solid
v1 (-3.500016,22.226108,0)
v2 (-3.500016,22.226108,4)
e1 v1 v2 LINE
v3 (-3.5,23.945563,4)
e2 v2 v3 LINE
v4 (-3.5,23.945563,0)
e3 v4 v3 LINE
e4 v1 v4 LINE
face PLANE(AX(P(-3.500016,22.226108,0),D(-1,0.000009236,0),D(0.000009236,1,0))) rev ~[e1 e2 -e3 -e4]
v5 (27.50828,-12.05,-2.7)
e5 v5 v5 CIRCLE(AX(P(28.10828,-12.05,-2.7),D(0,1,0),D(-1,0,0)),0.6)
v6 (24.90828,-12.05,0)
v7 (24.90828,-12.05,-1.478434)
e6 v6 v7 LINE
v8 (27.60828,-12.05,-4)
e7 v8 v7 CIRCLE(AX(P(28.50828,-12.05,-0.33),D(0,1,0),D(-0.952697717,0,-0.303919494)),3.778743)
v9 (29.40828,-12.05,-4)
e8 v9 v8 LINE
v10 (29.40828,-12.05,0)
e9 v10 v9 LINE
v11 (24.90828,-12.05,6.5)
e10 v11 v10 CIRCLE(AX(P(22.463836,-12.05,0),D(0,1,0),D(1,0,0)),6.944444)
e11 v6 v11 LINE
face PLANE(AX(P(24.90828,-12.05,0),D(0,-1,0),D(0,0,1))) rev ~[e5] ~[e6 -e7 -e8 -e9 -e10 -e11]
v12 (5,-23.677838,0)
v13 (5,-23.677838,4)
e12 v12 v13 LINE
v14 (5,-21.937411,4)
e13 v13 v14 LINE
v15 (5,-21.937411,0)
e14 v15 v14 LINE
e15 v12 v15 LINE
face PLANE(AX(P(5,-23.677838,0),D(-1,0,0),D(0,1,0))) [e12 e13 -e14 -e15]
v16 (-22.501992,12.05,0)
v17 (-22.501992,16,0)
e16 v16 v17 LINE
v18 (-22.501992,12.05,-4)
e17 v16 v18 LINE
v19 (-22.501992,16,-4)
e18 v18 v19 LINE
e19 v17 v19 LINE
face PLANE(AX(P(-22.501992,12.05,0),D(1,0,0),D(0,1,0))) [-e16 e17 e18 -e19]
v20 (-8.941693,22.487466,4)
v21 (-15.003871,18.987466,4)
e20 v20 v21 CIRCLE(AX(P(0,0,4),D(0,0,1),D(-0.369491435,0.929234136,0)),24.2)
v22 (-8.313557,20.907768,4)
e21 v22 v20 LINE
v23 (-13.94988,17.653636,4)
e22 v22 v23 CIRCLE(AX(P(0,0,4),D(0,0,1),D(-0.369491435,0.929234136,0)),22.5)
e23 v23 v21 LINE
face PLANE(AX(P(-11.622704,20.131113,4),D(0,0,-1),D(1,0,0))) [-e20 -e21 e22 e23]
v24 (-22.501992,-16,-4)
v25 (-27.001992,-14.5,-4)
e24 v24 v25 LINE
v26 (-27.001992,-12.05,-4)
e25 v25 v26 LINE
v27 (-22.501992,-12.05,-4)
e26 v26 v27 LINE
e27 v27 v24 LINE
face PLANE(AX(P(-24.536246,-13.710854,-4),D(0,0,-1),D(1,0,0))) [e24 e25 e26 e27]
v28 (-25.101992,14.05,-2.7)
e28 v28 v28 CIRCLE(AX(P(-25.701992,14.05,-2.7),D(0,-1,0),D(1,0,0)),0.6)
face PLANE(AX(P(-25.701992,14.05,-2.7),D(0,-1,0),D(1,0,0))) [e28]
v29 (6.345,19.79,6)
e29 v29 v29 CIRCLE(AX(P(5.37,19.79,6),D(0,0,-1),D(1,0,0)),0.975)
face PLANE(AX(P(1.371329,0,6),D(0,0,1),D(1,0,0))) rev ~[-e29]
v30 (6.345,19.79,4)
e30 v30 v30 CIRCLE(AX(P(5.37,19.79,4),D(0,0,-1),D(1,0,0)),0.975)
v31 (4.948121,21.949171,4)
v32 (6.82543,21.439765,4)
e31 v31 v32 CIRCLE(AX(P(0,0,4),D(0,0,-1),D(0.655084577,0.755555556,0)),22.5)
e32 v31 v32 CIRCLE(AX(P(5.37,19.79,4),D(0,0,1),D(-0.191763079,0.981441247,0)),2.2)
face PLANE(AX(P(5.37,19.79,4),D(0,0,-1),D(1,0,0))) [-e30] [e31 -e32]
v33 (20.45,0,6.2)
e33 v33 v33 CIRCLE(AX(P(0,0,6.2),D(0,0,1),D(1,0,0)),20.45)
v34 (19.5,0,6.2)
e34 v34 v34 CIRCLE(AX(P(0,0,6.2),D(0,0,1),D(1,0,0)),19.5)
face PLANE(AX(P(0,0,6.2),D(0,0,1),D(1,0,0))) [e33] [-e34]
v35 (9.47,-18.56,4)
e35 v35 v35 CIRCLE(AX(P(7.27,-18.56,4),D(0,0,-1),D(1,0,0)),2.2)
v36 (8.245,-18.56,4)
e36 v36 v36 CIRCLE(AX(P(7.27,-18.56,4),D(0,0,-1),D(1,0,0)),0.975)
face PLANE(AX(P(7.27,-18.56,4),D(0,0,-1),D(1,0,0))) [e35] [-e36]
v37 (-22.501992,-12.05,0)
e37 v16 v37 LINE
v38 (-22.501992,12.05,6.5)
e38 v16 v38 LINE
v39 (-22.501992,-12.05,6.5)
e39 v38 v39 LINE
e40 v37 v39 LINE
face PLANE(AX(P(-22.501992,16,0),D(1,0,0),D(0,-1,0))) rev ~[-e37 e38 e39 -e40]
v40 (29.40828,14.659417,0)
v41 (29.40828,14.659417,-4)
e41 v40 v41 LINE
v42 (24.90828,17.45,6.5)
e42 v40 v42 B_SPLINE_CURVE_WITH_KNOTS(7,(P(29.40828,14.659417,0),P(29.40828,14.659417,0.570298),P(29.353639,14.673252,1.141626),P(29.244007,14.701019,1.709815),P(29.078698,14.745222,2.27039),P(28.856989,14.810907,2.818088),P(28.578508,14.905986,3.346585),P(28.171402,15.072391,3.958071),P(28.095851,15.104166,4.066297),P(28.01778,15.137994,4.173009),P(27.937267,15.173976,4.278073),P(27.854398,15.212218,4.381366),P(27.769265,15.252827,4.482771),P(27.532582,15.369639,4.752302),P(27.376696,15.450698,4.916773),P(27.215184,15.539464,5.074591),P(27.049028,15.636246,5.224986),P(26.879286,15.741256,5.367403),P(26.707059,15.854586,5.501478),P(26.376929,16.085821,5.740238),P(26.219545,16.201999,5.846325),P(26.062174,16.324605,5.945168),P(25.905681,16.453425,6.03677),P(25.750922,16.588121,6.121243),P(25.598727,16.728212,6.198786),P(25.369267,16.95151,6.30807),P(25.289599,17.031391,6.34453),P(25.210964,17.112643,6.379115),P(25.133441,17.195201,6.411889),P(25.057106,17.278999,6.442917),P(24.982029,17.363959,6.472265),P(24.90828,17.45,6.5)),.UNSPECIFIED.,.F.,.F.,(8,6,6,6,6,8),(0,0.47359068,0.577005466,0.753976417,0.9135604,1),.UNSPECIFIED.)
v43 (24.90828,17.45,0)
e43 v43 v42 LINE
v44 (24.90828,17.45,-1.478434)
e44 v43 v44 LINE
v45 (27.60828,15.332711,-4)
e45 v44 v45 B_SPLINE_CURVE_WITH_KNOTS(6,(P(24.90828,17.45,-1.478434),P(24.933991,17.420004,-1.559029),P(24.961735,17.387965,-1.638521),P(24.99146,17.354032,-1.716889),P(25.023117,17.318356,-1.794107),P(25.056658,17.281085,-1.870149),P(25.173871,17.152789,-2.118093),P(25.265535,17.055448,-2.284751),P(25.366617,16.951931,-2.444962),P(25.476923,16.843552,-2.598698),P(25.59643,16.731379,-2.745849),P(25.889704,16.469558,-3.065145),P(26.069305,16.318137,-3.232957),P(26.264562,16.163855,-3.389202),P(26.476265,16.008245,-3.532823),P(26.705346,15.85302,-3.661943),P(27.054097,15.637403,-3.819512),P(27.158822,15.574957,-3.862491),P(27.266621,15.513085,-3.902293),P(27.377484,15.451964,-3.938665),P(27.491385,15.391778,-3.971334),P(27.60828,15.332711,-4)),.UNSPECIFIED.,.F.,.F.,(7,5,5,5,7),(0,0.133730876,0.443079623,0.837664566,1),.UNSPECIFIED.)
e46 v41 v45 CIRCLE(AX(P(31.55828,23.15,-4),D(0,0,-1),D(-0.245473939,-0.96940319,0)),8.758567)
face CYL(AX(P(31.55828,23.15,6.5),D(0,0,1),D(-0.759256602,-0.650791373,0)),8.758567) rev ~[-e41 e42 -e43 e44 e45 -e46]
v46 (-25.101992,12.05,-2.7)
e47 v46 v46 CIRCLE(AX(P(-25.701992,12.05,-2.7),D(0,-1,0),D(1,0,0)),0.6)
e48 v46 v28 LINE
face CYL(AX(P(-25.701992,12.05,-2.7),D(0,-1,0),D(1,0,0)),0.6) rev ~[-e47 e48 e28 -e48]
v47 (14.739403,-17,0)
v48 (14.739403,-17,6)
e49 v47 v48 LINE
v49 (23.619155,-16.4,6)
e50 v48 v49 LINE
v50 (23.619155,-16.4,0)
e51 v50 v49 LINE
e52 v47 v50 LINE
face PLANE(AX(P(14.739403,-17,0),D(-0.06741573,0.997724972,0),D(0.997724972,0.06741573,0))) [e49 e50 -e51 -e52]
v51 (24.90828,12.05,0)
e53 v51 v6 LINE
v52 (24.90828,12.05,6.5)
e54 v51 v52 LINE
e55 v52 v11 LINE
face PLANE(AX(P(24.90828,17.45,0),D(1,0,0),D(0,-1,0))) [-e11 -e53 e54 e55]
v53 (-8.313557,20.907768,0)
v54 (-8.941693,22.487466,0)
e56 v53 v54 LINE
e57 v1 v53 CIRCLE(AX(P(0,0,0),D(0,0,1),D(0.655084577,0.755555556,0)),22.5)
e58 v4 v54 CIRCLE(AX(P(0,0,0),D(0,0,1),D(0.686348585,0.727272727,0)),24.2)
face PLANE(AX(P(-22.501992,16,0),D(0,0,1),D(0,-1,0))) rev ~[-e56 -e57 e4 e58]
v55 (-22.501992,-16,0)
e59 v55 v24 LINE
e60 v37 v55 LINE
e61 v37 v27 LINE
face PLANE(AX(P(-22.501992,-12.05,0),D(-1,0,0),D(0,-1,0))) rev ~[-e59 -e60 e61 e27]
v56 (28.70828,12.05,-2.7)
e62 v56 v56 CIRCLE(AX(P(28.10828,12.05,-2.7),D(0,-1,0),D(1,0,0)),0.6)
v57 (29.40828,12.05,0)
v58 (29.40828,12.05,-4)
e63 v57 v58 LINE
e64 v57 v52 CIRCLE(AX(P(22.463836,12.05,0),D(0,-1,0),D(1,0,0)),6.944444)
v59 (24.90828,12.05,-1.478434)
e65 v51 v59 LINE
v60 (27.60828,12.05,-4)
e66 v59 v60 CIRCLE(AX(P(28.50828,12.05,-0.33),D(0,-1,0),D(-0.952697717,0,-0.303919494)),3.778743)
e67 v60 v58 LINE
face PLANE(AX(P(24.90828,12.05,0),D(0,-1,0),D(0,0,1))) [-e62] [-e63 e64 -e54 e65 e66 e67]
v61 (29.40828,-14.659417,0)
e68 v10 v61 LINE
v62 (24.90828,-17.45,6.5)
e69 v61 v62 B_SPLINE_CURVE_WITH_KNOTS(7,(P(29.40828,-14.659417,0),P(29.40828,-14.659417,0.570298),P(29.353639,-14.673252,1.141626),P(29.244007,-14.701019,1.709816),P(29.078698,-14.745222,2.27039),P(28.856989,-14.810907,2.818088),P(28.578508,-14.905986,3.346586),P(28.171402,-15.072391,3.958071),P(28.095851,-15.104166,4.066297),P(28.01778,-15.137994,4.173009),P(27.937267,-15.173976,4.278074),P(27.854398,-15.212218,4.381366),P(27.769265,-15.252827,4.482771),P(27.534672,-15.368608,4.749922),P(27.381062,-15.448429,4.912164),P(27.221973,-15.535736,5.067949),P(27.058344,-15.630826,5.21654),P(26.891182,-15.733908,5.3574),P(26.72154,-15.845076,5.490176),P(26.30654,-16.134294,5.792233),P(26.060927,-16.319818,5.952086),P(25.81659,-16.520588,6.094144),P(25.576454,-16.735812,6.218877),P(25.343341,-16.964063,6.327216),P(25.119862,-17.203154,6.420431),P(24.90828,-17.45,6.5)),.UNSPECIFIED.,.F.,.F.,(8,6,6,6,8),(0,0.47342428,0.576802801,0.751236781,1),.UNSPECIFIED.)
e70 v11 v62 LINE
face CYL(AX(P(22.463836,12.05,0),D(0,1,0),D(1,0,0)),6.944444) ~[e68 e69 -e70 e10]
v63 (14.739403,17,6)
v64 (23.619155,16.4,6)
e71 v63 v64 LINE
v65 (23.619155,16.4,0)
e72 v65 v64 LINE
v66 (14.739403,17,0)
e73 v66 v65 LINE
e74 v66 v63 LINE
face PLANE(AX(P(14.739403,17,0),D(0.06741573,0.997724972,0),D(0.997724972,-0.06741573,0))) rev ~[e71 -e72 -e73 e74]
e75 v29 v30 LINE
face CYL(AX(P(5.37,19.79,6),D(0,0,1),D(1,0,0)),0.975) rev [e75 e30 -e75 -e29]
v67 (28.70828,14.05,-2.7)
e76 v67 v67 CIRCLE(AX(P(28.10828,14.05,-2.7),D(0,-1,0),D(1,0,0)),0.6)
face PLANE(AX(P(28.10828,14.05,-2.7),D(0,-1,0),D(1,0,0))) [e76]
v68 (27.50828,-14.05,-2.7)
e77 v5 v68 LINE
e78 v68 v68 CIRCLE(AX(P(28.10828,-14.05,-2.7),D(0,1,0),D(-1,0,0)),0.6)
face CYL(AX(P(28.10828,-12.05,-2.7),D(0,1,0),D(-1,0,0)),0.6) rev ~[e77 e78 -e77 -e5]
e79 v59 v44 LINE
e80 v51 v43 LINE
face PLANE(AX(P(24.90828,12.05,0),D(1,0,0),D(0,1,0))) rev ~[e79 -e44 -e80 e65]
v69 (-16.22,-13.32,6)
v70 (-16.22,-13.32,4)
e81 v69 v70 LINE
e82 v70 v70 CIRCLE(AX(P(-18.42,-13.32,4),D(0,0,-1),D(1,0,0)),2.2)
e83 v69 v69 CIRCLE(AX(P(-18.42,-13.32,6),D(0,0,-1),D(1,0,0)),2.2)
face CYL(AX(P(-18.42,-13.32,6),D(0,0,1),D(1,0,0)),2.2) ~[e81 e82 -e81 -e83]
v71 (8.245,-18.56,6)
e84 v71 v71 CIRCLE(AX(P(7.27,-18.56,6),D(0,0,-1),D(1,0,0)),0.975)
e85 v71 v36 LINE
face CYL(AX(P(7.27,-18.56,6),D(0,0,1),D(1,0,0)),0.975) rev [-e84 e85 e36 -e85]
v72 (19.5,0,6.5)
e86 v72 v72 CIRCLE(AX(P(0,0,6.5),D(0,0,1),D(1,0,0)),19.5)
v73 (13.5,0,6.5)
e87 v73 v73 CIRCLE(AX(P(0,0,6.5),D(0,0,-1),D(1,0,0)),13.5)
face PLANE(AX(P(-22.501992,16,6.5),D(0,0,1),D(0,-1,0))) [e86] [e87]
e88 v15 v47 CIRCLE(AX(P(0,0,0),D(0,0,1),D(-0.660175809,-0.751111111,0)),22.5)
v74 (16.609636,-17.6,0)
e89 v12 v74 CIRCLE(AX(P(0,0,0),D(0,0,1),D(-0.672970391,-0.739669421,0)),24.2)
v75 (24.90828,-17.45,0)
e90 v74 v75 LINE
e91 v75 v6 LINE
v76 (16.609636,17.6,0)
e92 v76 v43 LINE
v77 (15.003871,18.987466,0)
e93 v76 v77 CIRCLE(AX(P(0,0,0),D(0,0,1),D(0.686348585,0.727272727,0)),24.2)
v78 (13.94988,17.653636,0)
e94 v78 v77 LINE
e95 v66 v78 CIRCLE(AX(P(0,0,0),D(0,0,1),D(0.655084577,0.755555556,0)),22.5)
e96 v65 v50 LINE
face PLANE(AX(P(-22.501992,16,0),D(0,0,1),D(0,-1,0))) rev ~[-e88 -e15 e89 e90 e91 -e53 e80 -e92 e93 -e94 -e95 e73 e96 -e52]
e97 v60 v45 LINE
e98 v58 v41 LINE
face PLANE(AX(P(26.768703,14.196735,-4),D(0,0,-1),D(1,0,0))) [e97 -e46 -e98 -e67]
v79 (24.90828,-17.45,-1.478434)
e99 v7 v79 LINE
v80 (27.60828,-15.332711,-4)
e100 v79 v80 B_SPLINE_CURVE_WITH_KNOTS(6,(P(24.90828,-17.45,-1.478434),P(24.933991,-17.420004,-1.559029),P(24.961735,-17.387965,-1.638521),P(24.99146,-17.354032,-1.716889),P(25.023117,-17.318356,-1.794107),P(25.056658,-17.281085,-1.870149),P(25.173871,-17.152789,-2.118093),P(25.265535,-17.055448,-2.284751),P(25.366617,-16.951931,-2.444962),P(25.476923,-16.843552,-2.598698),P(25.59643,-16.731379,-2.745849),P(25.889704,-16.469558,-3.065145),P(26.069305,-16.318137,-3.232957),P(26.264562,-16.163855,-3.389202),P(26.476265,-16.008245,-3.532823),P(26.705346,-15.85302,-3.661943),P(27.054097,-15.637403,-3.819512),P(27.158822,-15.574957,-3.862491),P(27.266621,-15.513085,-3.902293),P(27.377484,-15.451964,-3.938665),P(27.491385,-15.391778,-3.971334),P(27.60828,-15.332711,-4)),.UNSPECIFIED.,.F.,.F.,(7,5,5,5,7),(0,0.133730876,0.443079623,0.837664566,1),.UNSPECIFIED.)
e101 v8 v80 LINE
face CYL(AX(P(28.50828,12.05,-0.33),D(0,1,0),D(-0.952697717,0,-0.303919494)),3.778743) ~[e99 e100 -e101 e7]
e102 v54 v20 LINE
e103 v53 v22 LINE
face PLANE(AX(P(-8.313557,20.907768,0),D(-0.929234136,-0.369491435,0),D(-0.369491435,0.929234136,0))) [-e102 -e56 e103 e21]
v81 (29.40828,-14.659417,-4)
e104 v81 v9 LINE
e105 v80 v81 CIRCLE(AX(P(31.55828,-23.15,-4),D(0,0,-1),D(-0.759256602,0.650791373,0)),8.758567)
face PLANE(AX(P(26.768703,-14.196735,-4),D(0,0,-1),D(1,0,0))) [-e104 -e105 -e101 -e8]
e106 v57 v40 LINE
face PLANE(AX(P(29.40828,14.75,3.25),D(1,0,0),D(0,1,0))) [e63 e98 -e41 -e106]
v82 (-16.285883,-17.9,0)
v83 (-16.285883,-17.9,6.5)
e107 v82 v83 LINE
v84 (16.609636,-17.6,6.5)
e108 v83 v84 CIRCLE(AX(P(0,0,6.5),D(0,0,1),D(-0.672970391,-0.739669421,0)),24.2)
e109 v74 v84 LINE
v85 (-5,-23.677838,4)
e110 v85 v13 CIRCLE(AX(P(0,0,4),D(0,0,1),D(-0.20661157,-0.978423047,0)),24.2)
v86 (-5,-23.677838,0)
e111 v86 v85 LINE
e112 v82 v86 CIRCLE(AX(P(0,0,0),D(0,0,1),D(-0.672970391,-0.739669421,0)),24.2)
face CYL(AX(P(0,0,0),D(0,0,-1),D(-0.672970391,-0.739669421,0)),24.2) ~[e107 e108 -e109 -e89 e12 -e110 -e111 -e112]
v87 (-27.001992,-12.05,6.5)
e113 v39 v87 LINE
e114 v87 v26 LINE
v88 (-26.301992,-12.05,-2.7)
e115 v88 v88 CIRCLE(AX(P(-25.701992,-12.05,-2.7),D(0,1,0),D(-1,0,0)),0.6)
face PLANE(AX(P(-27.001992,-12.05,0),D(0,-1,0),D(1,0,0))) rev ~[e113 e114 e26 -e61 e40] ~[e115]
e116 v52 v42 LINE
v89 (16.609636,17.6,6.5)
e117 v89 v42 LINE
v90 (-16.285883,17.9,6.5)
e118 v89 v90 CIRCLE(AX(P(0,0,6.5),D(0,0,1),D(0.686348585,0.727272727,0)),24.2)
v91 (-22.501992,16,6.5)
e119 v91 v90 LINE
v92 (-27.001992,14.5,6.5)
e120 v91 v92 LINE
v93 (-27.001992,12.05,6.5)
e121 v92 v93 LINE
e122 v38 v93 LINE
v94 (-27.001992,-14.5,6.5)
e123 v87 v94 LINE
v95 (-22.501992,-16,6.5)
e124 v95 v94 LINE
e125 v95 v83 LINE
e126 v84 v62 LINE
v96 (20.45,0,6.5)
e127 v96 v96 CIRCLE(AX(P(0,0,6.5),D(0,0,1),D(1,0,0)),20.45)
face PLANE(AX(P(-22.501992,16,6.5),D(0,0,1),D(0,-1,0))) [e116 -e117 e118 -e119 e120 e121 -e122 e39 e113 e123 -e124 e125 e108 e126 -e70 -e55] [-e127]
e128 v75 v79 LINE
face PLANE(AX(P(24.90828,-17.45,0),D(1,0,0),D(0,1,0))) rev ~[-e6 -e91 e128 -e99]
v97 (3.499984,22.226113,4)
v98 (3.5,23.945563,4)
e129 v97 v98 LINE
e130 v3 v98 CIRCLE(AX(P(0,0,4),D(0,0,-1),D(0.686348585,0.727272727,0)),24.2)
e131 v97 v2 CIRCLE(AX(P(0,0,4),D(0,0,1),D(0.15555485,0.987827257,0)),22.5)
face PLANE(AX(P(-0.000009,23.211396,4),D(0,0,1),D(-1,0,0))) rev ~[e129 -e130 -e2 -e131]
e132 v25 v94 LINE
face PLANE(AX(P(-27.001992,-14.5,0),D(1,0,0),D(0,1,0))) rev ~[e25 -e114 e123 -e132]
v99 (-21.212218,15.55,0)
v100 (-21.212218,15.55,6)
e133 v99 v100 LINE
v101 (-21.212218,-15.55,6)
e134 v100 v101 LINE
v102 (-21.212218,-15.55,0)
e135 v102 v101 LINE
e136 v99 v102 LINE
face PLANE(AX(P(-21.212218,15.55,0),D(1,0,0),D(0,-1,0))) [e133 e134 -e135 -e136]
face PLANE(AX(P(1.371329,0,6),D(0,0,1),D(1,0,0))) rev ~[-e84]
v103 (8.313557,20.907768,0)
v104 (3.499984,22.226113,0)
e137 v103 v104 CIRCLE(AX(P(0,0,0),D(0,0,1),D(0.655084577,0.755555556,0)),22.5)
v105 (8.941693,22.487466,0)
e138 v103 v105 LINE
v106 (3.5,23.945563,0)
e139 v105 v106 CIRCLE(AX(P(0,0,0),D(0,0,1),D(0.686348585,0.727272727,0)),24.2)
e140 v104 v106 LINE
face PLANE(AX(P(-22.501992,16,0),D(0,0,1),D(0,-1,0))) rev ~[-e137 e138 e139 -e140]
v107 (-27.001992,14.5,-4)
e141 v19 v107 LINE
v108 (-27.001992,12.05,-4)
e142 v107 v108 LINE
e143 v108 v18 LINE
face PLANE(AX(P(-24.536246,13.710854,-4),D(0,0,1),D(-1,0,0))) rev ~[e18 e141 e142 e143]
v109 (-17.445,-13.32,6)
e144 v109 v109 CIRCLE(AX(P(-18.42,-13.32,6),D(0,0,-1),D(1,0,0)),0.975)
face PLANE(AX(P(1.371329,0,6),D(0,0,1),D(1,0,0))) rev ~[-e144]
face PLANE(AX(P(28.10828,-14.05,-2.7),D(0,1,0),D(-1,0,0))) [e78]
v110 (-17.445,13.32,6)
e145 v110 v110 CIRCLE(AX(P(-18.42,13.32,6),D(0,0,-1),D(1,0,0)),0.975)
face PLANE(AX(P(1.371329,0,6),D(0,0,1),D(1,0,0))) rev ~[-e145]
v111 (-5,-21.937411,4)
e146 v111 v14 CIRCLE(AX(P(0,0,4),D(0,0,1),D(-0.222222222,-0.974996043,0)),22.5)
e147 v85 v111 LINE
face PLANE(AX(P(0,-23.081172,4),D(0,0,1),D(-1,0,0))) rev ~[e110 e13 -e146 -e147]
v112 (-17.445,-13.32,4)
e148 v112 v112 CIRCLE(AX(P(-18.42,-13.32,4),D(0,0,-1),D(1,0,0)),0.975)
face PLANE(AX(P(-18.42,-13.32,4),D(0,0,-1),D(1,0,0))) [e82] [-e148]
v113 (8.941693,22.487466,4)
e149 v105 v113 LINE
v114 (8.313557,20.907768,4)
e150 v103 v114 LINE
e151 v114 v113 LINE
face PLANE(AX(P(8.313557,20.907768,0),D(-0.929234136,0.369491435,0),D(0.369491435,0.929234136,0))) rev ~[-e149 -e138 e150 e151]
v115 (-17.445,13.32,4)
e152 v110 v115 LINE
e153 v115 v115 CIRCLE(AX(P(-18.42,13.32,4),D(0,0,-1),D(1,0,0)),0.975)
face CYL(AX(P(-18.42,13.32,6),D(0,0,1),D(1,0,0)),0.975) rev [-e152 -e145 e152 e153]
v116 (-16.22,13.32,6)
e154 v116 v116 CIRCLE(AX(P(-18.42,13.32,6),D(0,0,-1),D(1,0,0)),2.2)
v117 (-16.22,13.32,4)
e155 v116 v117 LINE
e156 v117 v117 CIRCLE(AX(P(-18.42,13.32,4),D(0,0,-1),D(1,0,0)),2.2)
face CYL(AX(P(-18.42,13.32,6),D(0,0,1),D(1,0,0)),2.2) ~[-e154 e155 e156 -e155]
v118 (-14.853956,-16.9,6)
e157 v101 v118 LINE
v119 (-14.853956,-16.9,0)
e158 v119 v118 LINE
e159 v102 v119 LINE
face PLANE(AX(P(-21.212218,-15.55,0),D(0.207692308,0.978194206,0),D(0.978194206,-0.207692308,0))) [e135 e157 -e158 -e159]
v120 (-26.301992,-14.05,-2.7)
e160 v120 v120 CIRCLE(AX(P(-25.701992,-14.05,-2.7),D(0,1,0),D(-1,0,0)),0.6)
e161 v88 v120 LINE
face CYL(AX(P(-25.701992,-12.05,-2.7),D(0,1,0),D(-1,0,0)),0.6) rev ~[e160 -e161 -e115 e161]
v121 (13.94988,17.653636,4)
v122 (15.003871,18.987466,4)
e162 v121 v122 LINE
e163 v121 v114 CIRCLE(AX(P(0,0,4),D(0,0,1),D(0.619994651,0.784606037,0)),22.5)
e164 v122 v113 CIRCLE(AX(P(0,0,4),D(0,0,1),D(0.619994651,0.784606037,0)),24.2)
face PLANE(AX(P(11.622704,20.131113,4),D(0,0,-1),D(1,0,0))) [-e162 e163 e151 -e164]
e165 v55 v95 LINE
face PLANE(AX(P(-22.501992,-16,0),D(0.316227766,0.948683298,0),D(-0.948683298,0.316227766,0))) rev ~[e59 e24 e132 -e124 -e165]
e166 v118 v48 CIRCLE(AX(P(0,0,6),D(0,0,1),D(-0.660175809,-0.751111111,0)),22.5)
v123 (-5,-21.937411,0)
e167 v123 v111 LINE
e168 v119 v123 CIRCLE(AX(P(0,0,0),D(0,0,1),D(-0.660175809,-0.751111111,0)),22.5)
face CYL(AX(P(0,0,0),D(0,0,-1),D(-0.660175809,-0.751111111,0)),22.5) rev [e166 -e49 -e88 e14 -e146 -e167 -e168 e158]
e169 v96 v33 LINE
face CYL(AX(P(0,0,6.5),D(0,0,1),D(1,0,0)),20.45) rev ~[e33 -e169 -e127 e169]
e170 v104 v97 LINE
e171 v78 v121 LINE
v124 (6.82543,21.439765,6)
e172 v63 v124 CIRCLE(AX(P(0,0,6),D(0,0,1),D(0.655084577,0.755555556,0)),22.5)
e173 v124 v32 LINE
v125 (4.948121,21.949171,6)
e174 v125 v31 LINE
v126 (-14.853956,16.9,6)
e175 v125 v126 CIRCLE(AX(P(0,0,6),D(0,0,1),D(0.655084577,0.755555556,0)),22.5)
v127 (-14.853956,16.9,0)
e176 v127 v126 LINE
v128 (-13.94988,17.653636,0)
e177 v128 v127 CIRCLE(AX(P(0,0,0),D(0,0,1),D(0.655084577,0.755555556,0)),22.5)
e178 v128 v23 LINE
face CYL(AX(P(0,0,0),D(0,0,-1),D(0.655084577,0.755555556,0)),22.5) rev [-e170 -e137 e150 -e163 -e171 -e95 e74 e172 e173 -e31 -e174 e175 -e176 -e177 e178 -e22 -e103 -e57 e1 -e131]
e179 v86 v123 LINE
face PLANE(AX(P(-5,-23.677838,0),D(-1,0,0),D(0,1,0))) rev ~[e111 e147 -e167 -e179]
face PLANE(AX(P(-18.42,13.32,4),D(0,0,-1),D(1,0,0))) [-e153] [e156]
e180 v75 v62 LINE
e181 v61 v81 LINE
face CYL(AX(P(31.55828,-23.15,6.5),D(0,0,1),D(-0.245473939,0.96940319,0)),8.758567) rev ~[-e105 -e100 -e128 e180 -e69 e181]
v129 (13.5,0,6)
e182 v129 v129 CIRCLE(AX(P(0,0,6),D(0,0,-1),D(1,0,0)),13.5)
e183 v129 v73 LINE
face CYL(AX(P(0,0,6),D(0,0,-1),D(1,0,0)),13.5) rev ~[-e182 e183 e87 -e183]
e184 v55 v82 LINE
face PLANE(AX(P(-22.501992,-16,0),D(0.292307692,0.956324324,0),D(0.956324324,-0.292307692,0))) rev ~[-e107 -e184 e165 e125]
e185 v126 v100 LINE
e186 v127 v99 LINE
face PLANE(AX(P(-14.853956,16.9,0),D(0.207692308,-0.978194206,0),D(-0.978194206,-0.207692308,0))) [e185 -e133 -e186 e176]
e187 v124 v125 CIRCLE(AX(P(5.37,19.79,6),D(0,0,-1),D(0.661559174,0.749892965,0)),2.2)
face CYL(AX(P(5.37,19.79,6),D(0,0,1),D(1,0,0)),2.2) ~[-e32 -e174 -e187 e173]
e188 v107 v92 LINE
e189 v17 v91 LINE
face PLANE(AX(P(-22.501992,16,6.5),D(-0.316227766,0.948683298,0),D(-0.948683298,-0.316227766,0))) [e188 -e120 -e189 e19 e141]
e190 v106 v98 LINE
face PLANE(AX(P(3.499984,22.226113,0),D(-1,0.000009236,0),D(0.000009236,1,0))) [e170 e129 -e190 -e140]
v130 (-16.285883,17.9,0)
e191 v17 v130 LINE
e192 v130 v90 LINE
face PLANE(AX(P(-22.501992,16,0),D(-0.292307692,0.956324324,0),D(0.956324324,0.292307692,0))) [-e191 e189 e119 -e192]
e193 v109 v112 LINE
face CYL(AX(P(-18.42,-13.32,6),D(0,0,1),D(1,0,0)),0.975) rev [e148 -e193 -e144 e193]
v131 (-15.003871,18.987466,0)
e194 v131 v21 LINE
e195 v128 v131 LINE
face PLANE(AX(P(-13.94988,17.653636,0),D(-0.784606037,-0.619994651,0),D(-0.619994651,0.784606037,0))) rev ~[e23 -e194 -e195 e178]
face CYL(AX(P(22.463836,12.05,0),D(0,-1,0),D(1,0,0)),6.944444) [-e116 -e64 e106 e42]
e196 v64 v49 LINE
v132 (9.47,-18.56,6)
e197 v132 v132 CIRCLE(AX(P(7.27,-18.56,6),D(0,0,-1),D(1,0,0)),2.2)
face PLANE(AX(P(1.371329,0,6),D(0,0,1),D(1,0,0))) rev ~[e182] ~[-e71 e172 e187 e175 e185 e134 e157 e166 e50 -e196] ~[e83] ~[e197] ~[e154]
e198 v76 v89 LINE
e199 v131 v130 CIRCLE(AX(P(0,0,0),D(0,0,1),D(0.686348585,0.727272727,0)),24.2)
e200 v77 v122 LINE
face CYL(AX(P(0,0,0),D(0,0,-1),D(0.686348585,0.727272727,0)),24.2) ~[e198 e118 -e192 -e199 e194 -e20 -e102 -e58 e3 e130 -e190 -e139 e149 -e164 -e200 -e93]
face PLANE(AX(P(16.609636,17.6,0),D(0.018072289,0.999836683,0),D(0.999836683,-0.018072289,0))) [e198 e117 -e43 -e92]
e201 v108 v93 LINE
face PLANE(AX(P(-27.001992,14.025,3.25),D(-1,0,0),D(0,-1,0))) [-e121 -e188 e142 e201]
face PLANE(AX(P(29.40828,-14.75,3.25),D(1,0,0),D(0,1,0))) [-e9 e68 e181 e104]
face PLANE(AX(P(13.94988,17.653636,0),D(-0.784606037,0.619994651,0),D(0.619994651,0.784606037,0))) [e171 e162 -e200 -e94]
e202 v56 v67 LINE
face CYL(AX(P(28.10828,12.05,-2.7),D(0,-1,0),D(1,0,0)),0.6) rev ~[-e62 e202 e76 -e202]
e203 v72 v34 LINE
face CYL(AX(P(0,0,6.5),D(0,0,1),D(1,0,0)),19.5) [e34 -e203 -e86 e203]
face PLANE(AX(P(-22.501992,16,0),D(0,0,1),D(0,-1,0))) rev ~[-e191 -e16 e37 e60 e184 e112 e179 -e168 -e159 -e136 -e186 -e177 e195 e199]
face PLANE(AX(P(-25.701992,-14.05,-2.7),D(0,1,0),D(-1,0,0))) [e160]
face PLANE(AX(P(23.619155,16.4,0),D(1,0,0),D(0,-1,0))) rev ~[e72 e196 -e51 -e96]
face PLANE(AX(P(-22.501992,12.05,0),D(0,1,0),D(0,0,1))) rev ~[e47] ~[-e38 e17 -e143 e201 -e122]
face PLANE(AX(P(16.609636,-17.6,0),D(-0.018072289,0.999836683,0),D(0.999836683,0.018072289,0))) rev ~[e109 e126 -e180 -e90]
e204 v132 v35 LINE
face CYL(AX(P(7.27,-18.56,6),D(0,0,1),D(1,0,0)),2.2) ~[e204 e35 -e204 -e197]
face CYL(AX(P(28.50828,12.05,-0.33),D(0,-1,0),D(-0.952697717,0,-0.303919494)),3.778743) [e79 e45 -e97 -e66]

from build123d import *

# Parameters (mm, degrees)
PAD_DEPTH            = 6.5
POCKET_DEPTH         = 6
SKETCH002_R          = 13.5
POCKET001_DEPTH      = 1
SKETCH003_W          = 5.4
SKETCH003_H          = 6.5
PAD001_DEPTH         = 4.5
POCKET002_DEPTH      = 10
SKETCH010_W          = 3.95
SKETCH010_H          = 6.5
PAD002_DEPTH         = 4.5
POCKET005_DEPTH      = 10
SKETCH014_R          = 20.45
SKETCH014_R_2        = 19.5
POCKET008_DEPTH      = 0.3
SKETCH015_R          = 2.2
SKETCH015_R_2        = 0.975
PAD003_DEPTH         = 2
POCKET009_DEPTH      = 4
POCKET010_DEPTH      = 4
PAD004_DEPTH         = 4
SKETCH019_R          = 0.6
POCKET011_DEPTH      = 2
SKETCH020_R          = 0.6
POCKET012_DEPTH      = 2
POCKET013_DEPTH      = 12.151
POCKET013_DEPTH_BACK = 36.251


with BuildPart() as part:
    # Sketch → Pad (new body)
    with BuildSketch(Plane.XY):
        with BuildLine():
            Line((-22.5019915649, 16), (-22.5019915649, -16))
            Line((-22.5019915649, -16), (-16.2858834577, -17.9000000001))
            ThreePointArc((-16.2858834577, -17.9000000001), (0.2206895737, -24.1989937004), (16.6096357576, -17.5999999999))
            Line((16.6096357576, -17.5999999999), (24.9082802252, -17.45))
            Line((24.9082802252, 17.45), (24.9082802252, -17.45))
            Line((16.6096357576, 17.6), (24.9082802252, 17.45))
            ThreePointArc((16.6096357576, 17.6), (0.2206895736, 24.1989937004), (-16.2858834578, 17.9))
            Line((-22.5019915649, 16), (-16.2858834578, 17.9))
        make_face()
    extrude(amount=PAD_DEPTH)

    # Sketch001 → Pocket (cut)
    with BuildSketch(Plane.XY):
        with BuildLine():
            Line((-14.8539557021, 16.9), (-21.2122180433, 15.55))
            Line((-21.2122180433, 15.55), (-21.2122180433, -15.55))
            Line((-21.2122180433, -15.55), (-14.8539557021, -16.9))
            ThreePointArc((-14.8539557021, -16.9), (-0.0760301383, -22.4998715423), (14.739402973, -17))
            Line((14.739402973, -17), (23.6191552218, -16.4))
            Line((23.6191552218, 16.4), (23.6191552218, -16.4))
            Line((14.739402973, 17), (23.6191552218, 16.4))
            ThreePointArc((14.739402973, 17), (-0.0760301383, 22.4998715423), (-14.8539557021, 16.9))
        make_face()
    extrude(amount=POCKET_DEPTH, mode=Mode.SUBTRACT)

    # Sketch002 (on Face19 of Pocket) → Pocket001 (cut)
    with BuildSketch(Plane(origin=(0, 0, 6), x_dir=(1, 0, 0), z_dir=(0, 0, -1))):
        Circle(SKETCH002_R)
    extrude(amount=-POCKET001_DEPTH, mode=Mode.SUBTRACT)

    # Sketch003 (on Face7 of Pad) → Pad001 (join)
    with BuildSketch(Plane.YZ.offset(24.9082802252)):
        with Locations((-14.75, 3.25)):
            Rectangle(SKETCH003_W, SKETCH003_H)
        with Locations((14.75, 3.25)):
            Rectangle(SKETCH003_W, SKETCH003_H)
    extrude(amount=PAD001_DEPTH)

    # Sketch006 (on Face22 of Pad001) → Pocket002 (cut)
    with BuildSketch(Plane.XY.offset(6.5)):
        with BuildLine():
            ThreePointArc((24.9082802252, 17.45), (26.9423471239, 15.7065020586), (29.4082802252, 14.6594169811))
            Line((29.4082802252, 17.45), (29.4082802252, 14.6594169811))
            Line((29.4082802252, 17.45), (24.9082802252, 17.45))
        make_face()
        with BuildLine():
            ThreePointArc((29.4082802252, -14.6594169811), (26.9423471239, -15.7065020586), (24.9082802252, -17.45))
            Line((29.4082802252, -17.45), (24.9082802252, -17.45))
            Line((29.4082802252, -14.6594169811), (29.4082802252, -17.45))
        make_face()
    extrude(amount=-POCKET002_DEPTH, mode=Mode.SUBTRACT)

    # Sketch010 (on Face3 of Pad) → Pad002 (join)
    with BuildSketch(Plane(origin=(-22.5019915649, 0, 0), x_dir=(0, -1, 0), z_dir=(-1, 0, 0))):
        with Locations((-14.025, 3.25)):
            Rectangle(SKETCH010_W, SKETCH010_H)
        with Locations((14.025, 3.25)):
            Rectangle(SKETCH010_W, SKETCH010_H)
    extrude(amount=PAD002_DEPTH)

    # Sketch011 (on Face28 of Pad002) → Pocket005 (cut)
    with BuildSketch(Plane.XY.offset(6.5)):
        Polygon((-27.0019915649, 16), (-22.5019915649, 16), (-27.0019915649, 14.5), align=None)
        Polygon((-22.5019915649, -16), (-27.0019915649, -14.5), (-27.0019915649, -16), align=None)
    extrude(amount=-POCKET005_DEPTH, mode=Mode.SUBTRACT)

    # Sketch014 (on Face10 of Pad) → Pocket008 (cut)
    with BuildSketch(Plane.XY.offset(6.5)):
        Circle(SKETCH014_R)
        Circle(SKETCH014_R_2, mode=Mode.SUBTRACT)
    extrude(amount=-POCKET008_DEPTH, mode=Mode.SUBTRACT)

    # Sketch015 (on Face19 of Pocket) → Pad003 (join)
    with BuildSketch(Plane(origin=(0, 0, 6), x_dir=(1, 0, 0), z_dir=(0, 0, -1))):
        with Locations((-18.42, 13.32)):
            Circle(SKETCH015_R)
        with Locations((-18.42, 13.32)):
            Circle(SKETCH015_R_2, mode=Mode.SUBTRACT)
        with Locations((7.27, 18.56)):
            Circle(SKETCH015_R)
        with Locations((7.27, 18.56)):
            Circle(SKETCH015_R_2, mode=Mode.SUBTRACT)
        with Locations((5.37, -19.79)):
            Circle(SKETCH015_R)
        with Locations((5.37, -19.79)):
            Circle(SKETCH015_R_2, mode=Mode.SUBTRACT)
        with Locations((-18.42, -13.32)):
            Circle(SKETCH015_R)
        with Locations((-18.42, -13.32)):
            Circle(SKETCH015_R_2, mode=Mode.SUBTRACT)
    extrude(amount=PAD003_DEPTH)

    # Sketch016 → Pocket009 (cut)
    with BuildSketch(Plane(origin=(0, 0, 0), x_dir=(-1, 0, 0), z_dir=(0, 0, 1))):
        with BuildLine():
            Line((-5, 23.6778377391), (-5, 21.9374109685))
            ThreePointArc((5, 21.9374109685), (0, 22.5), (-5, 21.9374109685))
            Line((5, 23.6778377391), (5, 21.9374109685))
            ThreePointArc((5, 23.6778377391), (0, 24.2), (-5, 23.6778377391))
        make_face()
    extrude(amount=POCKET009_DEPTH, mode=Mode.SUBTRACT)

    # Sketch017 → Pocket010 (cut)
    with BuildSketch(Plane(origin=(0, 0, 0), x_dir=(-1, 0, 0), z_dir=(0, 0, 1))):
        with BuildLine():
            Line((-3.499984119, -22.2261132717), (-3.5, -23.9455632634))
            ThreePointArc((-3.5, -23.9455632634), (0, -24.2000019575), (3.5, -23.9455632634))
            Line((3.5000158811, -22.2261082701), (3.5, -23.9455632634))
            ThreePointArc((-3.499984119, -22.2261132717), (1.60767e-05, -22.5), (3.5000158811, -22.2261082701))
        make_face()
        with BuildLine():
            ThreePointArc((-13.9498796389, -17.6536358312), (-11.25, -19.4855715851), (-8.3135572795, -20.9077680626))
            Line((-8.3135572795, -20.9077680626), (-8.9416927184, -22.487466094))
            ThreePointArc((-15.0038705449, -18.987466094), (-12.1, -20.9578147716), (-8.9416927184, -22.487466094))
            Line((-13.9498796389, -17.6536358312), (-15.0038705449, -18.987466094))
        make_face()
        with BuildLine():
            ThreePointArc((8.3135572795, -20.9077680626), (11.25, -19.4855715851), (13.9498796389, -17.6536358312))
            Line((13.9498796389, -17.6536358312), (15.0038705449, -18.987466094))
            ThreePointArc((8.9416927184, -22.487466094), (12.1, -20.9578147716), (15.0038705449, -18.987466094))
            Line((8.3135572795, -20.9077680626), (8.9416927184, -22.487466094))
        make_face()
    extrude(amount=POCKET010_DEPTH, mode=Mode.SUBTRACT)

    # Sketch018 (on Face8 of Pocket005) → Pad004 (join)
    with BuildSketch(Plane(origin=(0, 0, 0), x_dir=(1, 0, 0), z_dir=(0, 0, -1))):
        Polygon((-27.0019915649, 14.5), (-27.0019915649, 12.05), (-22.5019915649, 12.05), (-22.5019915649, 16), align=None)
        Polygon((-27.0019915649, -12.05), (-22.5019915649, -12.05), (-22.5019915649, -16), (-27.0019915649, -14.5), align=None)
        with BuildLine():
            Line((24.9082802252, 17.45), (24.9082802252, 12.05))
            Line((29.4082802252, 12.05), (24.9082802252, 12.05))
            Line((29.4082802252, 14.6594169811), (29.4082802252, 12.05))
            ThreePointArc((24.9082802252, 17.45), (26.9423471239, 15.7065020586), (29.4082802252, 14.6594169811))
        make_face()
        with BuildLine():
            Line((24.9082802252, -12.05), (24.9082802252, -17.45))
            ThreePointArc((29.4082802252, -14.6594169811), (26.9423471239, -15.7065020586), (24.9082802252, -17.45))
            Line((29.4082802252, -12.05), (29.4082802252, -14.6594169811))
            Line((24.9082802252, -12.05), (29.4082802252, -12.05))
        make_face()
    extrude(amount=PAD004_DEPTH)

    # Sketch019 (on Face64 of Pad004) → Pocket011 (cut)
    with BuildSketch(Plane.XZ.offset(-12.05)):
        with Locations((28.1082802252, -2.7)):
            Circle(SKETCH019_R)
        with Locations((-25.7019915649, -2.7)):
            Circle(SKETCH019_R)
    extrude(amount=-POCKET011_DEPTH, mode=Mode.SUBTRACT)

    # Sketch020 (on Face50 of Pocket011) → Pocket012 (cut)
    with BuildSketch(Plane(origin=(0, -12.05, 0), x_dir=(-1, 0, 0), z_dir=(0, 1, 0))):
        with Locations((-28.1082802252, -2.7)):
            Circle(SKETCH020_R)
        with Locations((25.7019915649, -2.7)):
            Circle(SKETCH020_R)
    extrude(amount=-POCKET012_DEPTH, mode=Mode.SUBTRACT)

    # Sketch021 (on Face48 of Pocket012) → Pocket013 (cut, two sides)
    with BuildSketch(Plane.XZ.offset(-12.05)) as pocket013_sk:
        with BuildLine():
            ThreePointArc((29.4082802252, 0), (28.1735037783, 3.9528470752), (24.9082802252, 6.5))
            Line((24.9082802252, 6.5), (29.4082802252, 6.5))
            Line((29.4082802252, 6.5), (29.4082802252, 0))
        make_face()
        with BuildLine():
            ThreePointArc((24.9082802252, -1.478433716), (25.9291187082, -3.0916708473), (27.6082802252, -4))
            Line((24.9082802252, -4), (27.6082802252, -4))
            Line((24.9082802252, -1.478433716), (24.9082802252, -4))
        make_face()
    extrude(amount=-POCKET013_DEPTH, mode=Mode.SUBTRACT)
    extrude(pocket013_sk.sketch, amount=POCKET013_DEPTH_BACK, mode=Mode.SUBTRACT)


solid = part.part
